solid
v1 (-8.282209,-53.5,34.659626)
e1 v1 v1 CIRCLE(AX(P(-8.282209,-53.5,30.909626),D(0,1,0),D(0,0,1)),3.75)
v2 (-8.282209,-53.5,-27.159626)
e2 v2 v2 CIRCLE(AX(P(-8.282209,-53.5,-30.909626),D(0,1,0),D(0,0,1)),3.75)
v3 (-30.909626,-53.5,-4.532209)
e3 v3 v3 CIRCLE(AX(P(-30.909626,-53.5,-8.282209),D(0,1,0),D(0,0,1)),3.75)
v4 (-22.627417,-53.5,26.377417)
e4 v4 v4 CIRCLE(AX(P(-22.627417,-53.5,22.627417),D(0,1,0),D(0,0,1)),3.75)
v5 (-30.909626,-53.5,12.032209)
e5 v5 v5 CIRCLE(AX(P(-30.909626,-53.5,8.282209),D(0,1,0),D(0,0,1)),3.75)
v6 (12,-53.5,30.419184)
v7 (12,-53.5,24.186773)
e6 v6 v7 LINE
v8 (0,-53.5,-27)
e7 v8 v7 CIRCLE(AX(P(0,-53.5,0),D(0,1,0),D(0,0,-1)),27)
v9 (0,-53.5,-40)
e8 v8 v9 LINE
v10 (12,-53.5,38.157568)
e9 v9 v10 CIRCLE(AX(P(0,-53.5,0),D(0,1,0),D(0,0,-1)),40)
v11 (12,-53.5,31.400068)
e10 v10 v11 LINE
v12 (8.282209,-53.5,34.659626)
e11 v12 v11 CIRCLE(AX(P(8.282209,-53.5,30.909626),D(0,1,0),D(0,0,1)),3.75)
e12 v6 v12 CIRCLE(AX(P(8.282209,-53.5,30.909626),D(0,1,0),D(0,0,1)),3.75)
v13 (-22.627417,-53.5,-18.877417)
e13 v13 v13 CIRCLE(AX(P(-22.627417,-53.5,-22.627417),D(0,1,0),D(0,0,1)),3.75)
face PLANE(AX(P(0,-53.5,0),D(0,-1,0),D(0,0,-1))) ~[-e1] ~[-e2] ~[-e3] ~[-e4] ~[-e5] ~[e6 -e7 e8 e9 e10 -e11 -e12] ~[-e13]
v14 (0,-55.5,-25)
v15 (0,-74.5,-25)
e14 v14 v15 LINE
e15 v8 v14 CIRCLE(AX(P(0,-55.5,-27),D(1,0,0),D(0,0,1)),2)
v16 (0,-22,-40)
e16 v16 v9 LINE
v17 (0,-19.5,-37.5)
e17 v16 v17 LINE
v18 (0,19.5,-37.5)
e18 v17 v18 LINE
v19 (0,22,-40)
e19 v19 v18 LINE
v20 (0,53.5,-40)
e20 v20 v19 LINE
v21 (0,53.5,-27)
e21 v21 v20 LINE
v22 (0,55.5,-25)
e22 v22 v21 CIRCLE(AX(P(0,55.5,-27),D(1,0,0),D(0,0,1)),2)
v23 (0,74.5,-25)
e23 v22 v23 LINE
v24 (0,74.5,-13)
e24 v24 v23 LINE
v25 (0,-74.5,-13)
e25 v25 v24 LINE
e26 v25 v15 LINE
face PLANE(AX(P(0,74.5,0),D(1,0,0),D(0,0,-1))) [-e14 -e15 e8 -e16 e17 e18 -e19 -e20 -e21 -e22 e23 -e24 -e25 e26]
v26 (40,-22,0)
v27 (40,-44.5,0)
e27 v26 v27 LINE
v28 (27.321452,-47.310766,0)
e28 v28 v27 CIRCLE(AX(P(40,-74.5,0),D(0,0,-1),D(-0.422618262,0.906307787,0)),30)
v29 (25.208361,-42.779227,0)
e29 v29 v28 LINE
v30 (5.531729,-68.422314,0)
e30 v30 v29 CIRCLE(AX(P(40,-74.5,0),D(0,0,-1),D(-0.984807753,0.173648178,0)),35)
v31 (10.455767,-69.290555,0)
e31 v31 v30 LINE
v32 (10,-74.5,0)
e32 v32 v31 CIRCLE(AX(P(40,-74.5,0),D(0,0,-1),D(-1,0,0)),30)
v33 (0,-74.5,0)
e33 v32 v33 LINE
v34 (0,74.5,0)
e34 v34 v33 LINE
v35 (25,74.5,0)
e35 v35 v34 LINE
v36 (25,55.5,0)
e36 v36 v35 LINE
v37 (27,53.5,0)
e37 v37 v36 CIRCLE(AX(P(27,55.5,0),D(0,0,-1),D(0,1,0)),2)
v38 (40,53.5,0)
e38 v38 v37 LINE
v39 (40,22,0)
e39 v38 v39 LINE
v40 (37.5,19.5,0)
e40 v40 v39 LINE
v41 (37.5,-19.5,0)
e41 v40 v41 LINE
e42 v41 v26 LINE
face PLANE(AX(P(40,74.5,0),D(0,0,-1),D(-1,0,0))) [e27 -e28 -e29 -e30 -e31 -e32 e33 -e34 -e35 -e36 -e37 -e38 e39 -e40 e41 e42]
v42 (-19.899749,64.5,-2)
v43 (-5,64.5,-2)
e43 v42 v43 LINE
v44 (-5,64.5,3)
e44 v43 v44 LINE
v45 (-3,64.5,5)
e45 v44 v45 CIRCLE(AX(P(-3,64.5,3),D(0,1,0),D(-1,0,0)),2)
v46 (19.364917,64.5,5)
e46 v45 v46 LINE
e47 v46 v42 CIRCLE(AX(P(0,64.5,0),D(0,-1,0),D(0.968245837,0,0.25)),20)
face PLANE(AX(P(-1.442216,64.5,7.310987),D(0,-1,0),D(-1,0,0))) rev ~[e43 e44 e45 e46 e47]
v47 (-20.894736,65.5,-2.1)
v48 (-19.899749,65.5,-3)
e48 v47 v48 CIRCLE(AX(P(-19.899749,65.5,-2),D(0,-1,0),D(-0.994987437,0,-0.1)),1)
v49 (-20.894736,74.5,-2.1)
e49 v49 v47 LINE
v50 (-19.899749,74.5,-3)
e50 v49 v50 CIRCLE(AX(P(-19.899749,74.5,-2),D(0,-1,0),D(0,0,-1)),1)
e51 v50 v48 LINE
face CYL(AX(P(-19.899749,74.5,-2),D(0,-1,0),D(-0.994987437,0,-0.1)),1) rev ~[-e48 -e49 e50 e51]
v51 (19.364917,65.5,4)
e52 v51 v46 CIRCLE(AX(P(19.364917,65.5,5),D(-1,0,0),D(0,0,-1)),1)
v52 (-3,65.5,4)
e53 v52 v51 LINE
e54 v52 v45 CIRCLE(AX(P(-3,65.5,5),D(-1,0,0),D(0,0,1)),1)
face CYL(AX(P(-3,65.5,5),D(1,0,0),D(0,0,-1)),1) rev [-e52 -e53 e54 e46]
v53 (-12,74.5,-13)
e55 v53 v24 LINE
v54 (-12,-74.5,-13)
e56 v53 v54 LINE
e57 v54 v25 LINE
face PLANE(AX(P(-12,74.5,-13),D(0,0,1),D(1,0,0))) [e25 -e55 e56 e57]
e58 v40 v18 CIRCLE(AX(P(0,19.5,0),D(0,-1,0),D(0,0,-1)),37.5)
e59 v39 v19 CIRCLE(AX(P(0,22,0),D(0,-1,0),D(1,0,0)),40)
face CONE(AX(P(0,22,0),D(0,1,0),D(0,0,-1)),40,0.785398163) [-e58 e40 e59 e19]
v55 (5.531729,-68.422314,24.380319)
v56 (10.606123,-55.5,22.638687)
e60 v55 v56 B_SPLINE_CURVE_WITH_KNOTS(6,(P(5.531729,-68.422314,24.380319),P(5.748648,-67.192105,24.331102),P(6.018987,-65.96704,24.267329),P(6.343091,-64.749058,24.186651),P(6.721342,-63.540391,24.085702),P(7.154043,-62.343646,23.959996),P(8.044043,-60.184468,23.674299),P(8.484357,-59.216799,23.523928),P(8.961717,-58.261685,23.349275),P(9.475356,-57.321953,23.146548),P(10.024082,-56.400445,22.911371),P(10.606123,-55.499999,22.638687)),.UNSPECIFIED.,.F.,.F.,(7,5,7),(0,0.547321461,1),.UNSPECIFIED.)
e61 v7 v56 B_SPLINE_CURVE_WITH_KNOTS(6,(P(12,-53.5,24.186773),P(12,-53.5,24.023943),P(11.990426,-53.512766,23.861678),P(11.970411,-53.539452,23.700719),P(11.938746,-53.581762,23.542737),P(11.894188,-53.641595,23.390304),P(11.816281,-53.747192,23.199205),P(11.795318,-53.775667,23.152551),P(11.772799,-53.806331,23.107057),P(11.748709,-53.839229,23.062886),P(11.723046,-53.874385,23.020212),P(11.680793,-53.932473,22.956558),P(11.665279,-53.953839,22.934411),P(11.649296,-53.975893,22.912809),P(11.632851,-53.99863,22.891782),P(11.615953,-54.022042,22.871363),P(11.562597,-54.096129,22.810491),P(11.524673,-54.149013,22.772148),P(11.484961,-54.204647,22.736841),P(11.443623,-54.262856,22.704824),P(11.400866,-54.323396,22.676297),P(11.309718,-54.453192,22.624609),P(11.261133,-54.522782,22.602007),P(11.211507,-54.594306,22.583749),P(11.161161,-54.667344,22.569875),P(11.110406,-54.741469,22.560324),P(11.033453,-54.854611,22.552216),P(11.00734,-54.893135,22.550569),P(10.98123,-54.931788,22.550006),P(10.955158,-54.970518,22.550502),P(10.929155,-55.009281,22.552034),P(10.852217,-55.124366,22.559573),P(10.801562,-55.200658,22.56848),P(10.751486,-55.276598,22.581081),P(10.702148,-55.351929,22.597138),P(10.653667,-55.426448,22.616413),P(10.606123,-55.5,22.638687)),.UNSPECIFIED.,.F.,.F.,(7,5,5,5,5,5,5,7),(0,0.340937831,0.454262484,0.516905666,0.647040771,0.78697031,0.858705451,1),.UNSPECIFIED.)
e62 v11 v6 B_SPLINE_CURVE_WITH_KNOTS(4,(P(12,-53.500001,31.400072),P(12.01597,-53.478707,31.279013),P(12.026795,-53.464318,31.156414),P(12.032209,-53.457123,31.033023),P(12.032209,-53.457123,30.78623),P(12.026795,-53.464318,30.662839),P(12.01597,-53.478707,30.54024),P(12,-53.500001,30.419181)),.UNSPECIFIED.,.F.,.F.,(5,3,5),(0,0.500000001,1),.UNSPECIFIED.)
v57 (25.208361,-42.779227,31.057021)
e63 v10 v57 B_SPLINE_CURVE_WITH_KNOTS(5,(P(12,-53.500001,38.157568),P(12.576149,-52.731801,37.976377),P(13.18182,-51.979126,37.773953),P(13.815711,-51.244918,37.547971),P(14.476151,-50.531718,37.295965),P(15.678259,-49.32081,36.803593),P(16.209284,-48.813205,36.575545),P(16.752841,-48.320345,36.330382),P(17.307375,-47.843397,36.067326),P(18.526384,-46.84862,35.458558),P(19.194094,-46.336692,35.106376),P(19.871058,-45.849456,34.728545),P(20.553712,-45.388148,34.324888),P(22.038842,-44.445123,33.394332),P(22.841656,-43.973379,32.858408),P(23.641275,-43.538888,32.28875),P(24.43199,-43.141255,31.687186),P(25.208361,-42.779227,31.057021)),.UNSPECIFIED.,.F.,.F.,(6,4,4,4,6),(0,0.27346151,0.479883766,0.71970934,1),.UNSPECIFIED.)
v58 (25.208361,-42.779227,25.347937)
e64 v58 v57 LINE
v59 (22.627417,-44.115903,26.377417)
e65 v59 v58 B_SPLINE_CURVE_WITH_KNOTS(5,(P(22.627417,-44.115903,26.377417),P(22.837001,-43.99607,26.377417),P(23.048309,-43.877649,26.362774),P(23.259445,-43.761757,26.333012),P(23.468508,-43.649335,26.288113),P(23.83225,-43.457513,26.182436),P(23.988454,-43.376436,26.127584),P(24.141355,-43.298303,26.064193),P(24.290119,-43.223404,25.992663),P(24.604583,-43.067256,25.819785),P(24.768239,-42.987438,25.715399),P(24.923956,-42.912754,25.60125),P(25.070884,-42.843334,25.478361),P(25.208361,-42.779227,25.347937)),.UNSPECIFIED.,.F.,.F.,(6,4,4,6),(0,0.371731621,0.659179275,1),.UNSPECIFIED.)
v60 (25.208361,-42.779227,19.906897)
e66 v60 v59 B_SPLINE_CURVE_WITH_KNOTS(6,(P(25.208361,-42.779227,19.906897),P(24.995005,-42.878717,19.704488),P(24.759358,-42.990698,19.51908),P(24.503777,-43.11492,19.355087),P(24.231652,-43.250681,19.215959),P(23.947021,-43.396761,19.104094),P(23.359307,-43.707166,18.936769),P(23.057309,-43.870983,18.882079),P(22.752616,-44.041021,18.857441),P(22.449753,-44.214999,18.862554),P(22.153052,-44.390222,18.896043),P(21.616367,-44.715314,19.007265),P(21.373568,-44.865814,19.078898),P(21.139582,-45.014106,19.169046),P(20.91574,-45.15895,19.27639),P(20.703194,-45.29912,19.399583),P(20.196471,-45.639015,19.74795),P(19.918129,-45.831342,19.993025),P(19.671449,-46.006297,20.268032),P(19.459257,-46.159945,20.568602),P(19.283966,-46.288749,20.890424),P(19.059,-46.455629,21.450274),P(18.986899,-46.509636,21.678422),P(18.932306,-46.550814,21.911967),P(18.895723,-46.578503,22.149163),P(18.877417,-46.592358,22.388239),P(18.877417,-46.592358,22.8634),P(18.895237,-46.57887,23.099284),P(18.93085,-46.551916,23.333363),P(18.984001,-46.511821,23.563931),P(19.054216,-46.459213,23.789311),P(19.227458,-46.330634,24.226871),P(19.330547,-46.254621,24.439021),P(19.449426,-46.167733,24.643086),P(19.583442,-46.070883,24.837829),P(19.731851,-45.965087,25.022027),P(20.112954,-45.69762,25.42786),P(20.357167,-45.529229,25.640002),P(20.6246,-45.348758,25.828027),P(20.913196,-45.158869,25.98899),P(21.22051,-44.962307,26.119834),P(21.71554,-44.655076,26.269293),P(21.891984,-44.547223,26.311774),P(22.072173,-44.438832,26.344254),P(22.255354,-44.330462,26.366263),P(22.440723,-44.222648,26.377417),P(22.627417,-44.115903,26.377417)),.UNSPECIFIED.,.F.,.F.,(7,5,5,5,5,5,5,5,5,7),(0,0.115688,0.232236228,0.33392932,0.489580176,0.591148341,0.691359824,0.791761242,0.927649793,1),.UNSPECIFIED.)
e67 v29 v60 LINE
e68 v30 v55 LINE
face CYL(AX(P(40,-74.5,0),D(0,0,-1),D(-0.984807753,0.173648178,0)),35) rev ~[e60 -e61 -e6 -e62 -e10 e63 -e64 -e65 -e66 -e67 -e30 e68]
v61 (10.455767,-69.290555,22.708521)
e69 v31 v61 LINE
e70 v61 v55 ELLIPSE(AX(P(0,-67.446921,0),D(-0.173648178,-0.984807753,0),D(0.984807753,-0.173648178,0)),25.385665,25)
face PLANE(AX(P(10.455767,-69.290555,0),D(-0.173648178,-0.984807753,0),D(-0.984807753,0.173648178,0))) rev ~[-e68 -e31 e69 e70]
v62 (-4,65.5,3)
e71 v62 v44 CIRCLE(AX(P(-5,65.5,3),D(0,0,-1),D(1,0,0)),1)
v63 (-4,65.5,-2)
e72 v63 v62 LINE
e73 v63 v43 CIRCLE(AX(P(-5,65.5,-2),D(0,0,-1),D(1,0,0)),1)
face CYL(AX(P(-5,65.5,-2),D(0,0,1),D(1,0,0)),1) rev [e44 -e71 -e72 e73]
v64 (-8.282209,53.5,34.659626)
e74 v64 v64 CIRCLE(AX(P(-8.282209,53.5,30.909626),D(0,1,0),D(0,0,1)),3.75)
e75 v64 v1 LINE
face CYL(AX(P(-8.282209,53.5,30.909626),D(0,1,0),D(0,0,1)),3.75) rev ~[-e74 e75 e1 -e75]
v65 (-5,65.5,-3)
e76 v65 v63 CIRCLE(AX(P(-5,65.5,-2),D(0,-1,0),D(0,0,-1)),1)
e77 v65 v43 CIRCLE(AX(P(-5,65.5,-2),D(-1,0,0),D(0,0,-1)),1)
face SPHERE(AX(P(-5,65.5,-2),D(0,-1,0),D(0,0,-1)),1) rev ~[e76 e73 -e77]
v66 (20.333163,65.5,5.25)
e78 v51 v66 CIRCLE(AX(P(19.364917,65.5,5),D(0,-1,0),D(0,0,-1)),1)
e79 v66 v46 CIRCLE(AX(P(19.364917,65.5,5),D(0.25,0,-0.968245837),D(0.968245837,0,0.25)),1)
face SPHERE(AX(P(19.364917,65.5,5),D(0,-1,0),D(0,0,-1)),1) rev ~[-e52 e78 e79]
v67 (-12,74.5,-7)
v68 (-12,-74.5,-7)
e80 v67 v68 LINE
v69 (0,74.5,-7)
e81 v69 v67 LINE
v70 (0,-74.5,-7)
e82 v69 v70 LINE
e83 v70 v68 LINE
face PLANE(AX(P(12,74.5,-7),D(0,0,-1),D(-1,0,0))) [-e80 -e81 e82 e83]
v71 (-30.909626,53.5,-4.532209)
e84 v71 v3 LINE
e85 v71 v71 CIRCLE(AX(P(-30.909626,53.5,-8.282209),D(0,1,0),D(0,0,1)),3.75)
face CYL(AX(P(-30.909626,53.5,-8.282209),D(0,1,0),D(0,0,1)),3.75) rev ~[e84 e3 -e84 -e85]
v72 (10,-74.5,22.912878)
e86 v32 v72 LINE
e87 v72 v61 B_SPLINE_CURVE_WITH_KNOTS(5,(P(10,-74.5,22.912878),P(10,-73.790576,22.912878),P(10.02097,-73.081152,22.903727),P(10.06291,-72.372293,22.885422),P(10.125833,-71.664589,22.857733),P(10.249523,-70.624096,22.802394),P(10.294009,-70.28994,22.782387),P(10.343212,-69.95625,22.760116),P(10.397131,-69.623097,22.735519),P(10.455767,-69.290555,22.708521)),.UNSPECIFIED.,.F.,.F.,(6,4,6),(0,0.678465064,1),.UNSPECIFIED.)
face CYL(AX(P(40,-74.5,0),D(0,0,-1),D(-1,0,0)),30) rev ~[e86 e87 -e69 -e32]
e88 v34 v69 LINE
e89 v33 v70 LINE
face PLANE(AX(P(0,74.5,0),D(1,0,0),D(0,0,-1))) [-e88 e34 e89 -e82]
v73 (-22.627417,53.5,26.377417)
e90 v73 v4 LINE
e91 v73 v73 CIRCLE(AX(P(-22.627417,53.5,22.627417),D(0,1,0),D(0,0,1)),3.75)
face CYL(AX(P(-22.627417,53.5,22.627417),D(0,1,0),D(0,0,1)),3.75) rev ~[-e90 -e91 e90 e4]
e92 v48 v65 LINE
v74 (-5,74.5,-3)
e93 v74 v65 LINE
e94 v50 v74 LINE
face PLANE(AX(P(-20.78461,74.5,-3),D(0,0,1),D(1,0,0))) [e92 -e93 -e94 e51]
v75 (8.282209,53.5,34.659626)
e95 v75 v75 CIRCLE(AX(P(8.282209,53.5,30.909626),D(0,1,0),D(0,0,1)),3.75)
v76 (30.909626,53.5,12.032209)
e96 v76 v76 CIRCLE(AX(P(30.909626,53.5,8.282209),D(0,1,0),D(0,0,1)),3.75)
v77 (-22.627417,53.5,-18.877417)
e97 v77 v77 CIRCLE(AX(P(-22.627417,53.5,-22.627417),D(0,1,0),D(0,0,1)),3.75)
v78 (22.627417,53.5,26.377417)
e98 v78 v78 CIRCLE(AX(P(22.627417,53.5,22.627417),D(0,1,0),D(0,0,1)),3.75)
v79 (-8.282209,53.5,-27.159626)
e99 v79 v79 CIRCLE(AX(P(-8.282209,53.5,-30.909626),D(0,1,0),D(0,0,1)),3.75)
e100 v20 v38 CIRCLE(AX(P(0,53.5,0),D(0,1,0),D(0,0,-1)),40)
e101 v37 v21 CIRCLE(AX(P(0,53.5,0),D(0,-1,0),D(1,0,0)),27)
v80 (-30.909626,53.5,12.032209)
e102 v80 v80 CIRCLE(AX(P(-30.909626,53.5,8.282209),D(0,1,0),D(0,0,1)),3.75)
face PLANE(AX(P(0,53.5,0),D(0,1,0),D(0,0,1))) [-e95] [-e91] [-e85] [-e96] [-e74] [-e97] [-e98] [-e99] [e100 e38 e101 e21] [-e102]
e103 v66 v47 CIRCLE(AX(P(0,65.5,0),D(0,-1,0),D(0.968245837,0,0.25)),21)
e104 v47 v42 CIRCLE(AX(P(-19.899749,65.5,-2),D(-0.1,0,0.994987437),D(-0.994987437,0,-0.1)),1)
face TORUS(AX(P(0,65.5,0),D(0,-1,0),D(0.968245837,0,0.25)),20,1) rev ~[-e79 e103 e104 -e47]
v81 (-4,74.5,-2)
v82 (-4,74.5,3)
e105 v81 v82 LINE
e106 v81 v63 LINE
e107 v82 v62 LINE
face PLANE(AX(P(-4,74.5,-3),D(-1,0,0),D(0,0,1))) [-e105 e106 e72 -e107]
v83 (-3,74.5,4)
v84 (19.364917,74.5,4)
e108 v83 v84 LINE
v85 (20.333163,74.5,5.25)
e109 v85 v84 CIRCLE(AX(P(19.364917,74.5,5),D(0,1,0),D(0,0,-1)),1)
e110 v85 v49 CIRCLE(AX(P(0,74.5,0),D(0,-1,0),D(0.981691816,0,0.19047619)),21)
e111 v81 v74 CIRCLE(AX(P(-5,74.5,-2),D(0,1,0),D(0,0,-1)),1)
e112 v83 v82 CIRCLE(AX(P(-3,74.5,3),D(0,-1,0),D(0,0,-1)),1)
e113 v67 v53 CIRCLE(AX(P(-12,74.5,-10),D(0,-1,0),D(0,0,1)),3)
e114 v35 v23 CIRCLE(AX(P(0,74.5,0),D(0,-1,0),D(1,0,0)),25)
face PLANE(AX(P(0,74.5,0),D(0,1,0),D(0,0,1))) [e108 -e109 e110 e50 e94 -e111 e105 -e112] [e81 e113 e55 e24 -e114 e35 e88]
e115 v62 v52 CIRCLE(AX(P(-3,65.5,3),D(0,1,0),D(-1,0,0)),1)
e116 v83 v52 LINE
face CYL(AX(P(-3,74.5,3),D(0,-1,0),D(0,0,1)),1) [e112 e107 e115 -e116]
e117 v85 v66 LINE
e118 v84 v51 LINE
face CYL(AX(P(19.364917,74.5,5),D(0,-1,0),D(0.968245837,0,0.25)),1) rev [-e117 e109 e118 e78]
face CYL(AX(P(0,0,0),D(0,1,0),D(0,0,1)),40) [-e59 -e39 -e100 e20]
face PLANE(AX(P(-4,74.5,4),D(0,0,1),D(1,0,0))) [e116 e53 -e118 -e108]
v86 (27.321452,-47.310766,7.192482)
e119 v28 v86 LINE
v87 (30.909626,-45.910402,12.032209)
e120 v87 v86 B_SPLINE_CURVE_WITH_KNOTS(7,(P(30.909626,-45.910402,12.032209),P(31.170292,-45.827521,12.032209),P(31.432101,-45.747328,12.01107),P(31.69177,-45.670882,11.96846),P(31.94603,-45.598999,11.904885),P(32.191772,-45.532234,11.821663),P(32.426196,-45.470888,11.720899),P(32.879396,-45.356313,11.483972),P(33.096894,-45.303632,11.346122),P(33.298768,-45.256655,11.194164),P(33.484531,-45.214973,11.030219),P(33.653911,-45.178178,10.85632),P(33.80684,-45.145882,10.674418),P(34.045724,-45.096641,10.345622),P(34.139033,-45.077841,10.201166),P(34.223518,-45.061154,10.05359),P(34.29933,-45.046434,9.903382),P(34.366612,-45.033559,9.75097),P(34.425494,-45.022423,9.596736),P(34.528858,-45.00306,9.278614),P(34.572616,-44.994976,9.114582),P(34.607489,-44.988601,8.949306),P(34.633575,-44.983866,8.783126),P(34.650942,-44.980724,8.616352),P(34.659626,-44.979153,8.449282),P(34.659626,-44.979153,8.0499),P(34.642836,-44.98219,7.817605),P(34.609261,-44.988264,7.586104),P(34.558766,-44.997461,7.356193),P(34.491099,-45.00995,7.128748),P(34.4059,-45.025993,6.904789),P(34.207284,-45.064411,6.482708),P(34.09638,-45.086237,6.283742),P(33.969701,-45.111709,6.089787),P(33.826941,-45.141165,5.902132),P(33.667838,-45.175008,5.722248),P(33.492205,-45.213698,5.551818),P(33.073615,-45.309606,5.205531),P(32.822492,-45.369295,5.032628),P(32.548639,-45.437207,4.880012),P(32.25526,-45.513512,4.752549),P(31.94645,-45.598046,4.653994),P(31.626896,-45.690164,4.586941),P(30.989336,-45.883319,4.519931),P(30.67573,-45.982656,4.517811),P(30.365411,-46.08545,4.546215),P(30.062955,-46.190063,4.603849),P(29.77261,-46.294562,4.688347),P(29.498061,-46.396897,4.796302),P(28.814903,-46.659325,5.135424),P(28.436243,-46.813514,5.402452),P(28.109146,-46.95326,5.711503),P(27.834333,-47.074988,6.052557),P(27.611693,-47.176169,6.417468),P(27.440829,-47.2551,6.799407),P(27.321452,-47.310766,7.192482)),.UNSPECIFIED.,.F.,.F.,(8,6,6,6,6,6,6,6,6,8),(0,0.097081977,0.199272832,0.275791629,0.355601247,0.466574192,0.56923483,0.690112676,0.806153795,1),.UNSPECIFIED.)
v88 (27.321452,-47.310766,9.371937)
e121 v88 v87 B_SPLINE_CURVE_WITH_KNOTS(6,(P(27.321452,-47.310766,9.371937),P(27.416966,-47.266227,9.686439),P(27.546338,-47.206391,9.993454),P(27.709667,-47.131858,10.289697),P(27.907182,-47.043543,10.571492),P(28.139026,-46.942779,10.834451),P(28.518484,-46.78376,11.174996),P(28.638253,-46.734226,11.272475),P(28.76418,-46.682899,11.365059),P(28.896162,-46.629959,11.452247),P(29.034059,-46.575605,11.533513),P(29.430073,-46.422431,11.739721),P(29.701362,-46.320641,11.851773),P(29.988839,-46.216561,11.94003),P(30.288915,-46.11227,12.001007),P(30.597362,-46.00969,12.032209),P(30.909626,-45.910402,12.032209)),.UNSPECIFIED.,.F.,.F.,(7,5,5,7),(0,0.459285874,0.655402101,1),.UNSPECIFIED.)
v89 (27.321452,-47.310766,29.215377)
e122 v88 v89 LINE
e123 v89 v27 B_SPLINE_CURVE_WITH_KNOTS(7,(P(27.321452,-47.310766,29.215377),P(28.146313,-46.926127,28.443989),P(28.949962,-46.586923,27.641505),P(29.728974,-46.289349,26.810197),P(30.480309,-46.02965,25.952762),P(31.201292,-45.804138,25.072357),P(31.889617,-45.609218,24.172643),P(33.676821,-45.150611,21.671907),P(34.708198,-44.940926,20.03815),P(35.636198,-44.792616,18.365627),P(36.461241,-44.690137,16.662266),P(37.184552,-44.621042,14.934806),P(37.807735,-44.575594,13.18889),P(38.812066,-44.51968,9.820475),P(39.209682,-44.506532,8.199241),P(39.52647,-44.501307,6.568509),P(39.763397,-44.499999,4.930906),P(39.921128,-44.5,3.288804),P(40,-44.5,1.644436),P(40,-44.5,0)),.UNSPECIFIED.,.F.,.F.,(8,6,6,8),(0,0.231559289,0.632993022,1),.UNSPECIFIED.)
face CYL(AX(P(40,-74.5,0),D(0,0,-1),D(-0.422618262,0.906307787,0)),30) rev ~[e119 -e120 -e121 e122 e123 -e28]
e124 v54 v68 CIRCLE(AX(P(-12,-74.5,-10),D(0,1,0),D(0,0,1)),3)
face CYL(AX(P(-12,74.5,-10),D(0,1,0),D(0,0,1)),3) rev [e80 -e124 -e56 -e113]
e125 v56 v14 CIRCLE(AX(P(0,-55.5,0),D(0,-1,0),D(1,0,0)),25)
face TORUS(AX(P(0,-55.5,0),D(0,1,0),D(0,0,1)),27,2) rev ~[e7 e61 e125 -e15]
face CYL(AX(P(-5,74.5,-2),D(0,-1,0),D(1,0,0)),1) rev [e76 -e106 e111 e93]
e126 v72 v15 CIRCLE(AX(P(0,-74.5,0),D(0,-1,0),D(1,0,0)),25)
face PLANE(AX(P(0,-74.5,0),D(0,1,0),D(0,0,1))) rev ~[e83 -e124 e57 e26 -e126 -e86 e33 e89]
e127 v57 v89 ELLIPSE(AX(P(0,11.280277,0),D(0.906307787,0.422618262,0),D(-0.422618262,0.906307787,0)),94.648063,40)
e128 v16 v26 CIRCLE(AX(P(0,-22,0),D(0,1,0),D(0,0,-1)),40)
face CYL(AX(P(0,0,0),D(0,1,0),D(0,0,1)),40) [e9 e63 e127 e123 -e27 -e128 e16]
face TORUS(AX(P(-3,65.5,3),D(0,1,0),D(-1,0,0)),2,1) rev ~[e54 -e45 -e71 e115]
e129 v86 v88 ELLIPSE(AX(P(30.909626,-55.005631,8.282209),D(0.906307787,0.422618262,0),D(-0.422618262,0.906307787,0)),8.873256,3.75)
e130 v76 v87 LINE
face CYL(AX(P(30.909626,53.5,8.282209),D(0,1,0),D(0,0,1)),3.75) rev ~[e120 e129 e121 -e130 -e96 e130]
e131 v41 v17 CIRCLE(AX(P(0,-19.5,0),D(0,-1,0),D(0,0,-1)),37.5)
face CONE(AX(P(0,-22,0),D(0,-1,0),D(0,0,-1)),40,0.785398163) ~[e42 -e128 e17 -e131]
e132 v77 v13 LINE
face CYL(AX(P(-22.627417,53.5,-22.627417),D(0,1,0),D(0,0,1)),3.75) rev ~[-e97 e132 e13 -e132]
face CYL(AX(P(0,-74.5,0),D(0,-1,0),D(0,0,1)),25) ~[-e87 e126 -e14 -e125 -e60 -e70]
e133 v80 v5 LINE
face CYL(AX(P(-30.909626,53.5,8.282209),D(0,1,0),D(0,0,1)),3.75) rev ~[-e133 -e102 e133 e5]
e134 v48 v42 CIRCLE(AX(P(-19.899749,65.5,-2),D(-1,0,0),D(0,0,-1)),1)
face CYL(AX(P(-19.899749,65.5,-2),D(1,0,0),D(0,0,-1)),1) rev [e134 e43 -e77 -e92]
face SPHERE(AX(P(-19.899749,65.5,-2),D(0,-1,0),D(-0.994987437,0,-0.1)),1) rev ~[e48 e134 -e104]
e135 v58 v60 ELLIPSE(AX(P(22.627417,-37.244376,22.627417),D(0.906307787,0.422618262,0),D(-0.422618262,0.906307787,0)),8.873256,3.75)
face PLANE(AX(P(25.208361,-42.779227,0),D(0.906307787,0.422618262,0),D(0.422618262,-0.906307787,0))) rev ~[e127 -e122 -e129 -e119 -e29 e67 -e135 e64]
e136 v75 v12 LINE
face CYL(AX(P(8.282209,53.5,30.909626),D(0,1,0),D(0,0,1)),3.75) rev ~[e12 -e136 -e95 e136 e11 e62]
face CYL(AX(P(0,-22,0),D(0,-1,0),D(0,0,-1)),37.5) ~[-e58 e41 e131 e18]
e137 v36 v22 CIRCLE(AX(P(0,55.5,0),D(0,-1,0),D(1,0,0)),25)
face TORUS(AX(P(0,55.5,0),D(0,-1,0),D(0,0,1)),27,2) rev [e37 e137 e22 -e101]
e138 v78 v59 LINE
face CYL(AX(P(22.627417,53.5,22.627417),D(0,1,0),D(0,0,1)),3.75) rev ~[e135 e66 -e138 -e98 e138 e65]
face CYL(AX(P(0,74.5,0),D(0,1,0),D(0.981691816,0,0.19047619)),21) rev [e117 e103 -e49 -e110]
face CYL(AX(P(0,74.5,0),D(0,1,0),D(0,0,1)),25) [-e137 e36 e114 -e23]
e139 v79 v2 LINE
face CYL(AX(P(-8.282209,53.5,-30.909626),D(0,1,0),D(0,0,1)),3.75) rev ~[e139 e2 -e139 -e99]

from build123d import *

# Parameters (mm, degrees)
SKETCH1_R               = 40
BOSS_EXTRUDE1_DEPTH     = 74.5
SKETCH3_R               = 40
SKETCH3_R_2             = 25
CUT_EXTRUDE1_DEPTH      = 21
CUT_EXTRUDE2_DEPTH      = 22
CUT_EXTRUDE2_DEPTH_BACK = 22
SKETCH2_R               = 40
SKETCH2_R_2             = 37.5
CUT_EXTRUDE4_DEPTH      = 160.376911753
FILLET1_R               = 2
CUT_EXTRUDE5_DEPTH      = 160.376911753
SKETCH8_R               = 3.75
CUT_EXTRUDE6_DEPTH      = 140.942845476
CUT_EXTRUDE7_DEPTH      = 94.542770966
CUT_EXTRUDE8_DEPTH      = 10
FILLET2_R               = 1
FILLET3_R               = 1


with BuildPart() as part:
    # Sketch1 → Boss-Extrude1 (new, symmetric)
    with BuildSketch(Plane(origin=(0, 0, 0), x_dir=(1, 0, 0), z_dir=(0, 1, 0))):
        with Locations(Location((0, 0, 0), (0, 0, 270))):
            Circle(SKETCH1_R)
    extrude(amount=BOSS_EXTRUDE1_DEPTH, both=True)

    # Sketch3 → Cut-Extrude1 (cut)
    with BuildSketch(Plane(origin=(0, 74.5, 0), x_dir=(1, 0, 0), z_dir=(0, 1, 0))):
        with Locations(Location((0, 0, 0), (0, 0, 270))):
            Circle(SKETCH3_R)
        with Locations(Location((0, 0, 0), (0, 0, 270))):
            Circle(SKETCH3_R_2, mode=Mode.SUBTRACT)
    cut_extrude1 = extrude(amount=-CUT_EXTRUDE1_DEPTH, mode=Mode.SUBTRACT)

    # Mirror1: Cut-Extrude1 across plane
    add(cut_extrude1.mirror(Plane.ZX), mode=Mode.SUBTRACT)

    # Sketch2 → Cut-Extrude2 (cut, two sides: drawn at the far end of the back side and taken through both)
    with BuildSketch(Plane(origin=(0, 0, 0), x_dir=(1, 0, 0), z_dir=(0, 1, 0)).offset(-CUT_EXTRUDE2_DEPTH_BACK)):
        with Locations(Location((0, 0, 0), (0, 0, 270))):
            Circle(SKETCH2_R)
        with Locations(Location((0, 0, 0), (0, 0, 90))):
            Circle(SKETCH2_R_2, mode=Mode.SUBTRACT)
    extrude(amount=CUT_EXTRUDE2_DEPTH + CUT_EXTRUDE2_DEPTH_BACK, mode=Mode.SUBTRACT)

    # Sketch5 → Cut-Extrude4 (cut, through all)
    with BuildSketch(Plane(origin=(0, 74.5, 0), x_dir=(1, 0, 0), z_dir=(0, 1, 0))):
        with BuildLine():
            Line((-12, 13), (12, 13))
            ThreePointArc((12, 13), (15, 10), (12, 7))
            Line((12, 7), (-12, 7))
            ThreePointArc((-12, 7), (-15, 10), (-12, 13))
        make_face()
    extrude(amount=-CUT_EXTRUDE4_DEPTH, mode=Mode.SUBTRACT)

    # Fillet1
    fillet1_edges = [part.edges().sort_by_distance(p)[0] for p in [
        (0, -53.5, -25),
        (0, 53.5, -25),
    ]]
    fillet(fillet1_edges, radius=FILLET1_R)

    # Sketch7 → Revolve2 (revolve)
    with BuildSketch(Plane(origin=(0, 0, 0), x_dir=(0, 0, -1), z_dir=(1, 0, 0))):
        Polygon((40, 22), (37.5, 19.5), (37.5, 22), align=None)
    revolve2 = revolve(axis=Axis((0, 103.881416882, 0), (0, -1, 0)))

    # Mirror2: Revolve2 across plane
    add(revolve2.mirror(Plane.ZX))

    # Sketch4 → Cut-Extrude5 (cut, through all)
    with BuildSketch(Plane(origin=(0, 74.5, 0), x_dir=(1, 0, 0), z_dir=(0, 1, 0))):
        with BuildLine():
            Line((0, 0), (0, 40))
            ThreePointArc((0, 40), (28.284271247, 28.284271247), (40, 0))
            Line((40, 0), (0, 0))
        make_face()
    extrude(amount=-CUT_EXTRUDE5_DEPTH, mode=Mode.SUBTRACT)

    # Sketch8 → Cut-Extrude6 (cut, through all)
    with BuildSketch(Plane(origin=(0, 53.5, 0), x_dir=(1, 0, 0), z_dir=(0, 1, 0))):
        with Locations(Location((-8.282209443, 30.909626441, 0), (0, 0, 270))):
            Circle(SKETCH8_R)
        with Locations(Location((30.909626441, -8.282209443, 0), (0, 0, 270))):
            Circle(SKETCH8_R)
        with Locations(Location((22.627416998, -22.627416998, 0), (0, 0, 270))):
            Circle(SKETCH8_R)
        with Locations(Location((8.282209443, -30.909626441, 0), (0, 0, 270))):
            Circle(SKETCH8_R)
        with Locations(Location((-8.282209443, -30.909626441, 0), (0, 0, 270))):
            Circle(SKETCH8_R)
        with Locations(Location((-22.627416998, -22.627416998, 0), (0, 0, 270))):
            Circle(SKETCH8_R)
        with Locations(Location((-30.909626441, -8.282209443, 0), (0, 0, 270))):
            Circle(SKETCH8_R)
        with Locations(Location((-30.909626441, 8.282209443, 0), (0, 0, 270))):
            Circle(SKETCH8_R)
        with Locations(Location((-22.627416998, 22.627416998, 0), (0, 0, 270))):
            Circle(SKETCH8_R)
    extrude(amount=-CUT_EXTRUDE6_DEPTH, mode=Mode.SUBTRACT)

    # Sketch10 → Cut-Extrude7 (cut, through all)
    with BuildSketch(Plane(origin=(0, 0, 0), x_dir=(-1, 0, 0), z_dir=(0, 0, -1))):
        with BuildLine():
            Line((-25.208360839, -42.779227454), (-27.321452148, -47.310766389))
            ThreePointArc((-27.321452148, -47.310766389), (-33.506811582, -45.211119786), (-40, -44.5))
            Line((-40, -44.5), (-40, -53.5))
            Line((-40, -53.5), (-27, -53.5))
            ThreePointArc((-27, -53.5), (-25.585786438, -54.085786438), (-25, -55.5))
            Line((-25, -55.5), (-25, -74.5))
            Line((-25, -74.5), (-10, -74.5))
            ThreePointArc((-10, -74.5), (-10.114159057, -71.885327718), (-10.45576741, -69.29055467))
            Line((-10.45576741, -69.29055467), (-5.531728645, -68.422313782))
            ThreePointArc((-5.531728645, -68.422313782), (-12.23263309, -53.193349985), (-25.208360839, -42.779227454))
        make_face()
    extrude(amount=-CUT_EXTRUDE7_DEPTH, mode=Mode.SUBTRACT)

    # Sketch11 → Cut-Extrude8 (cut)
    with BuildSketch(Plane(origin=(0, 74.5, 0), x_dir=(1, 0, 0), z_dir=(0, 1, 0))):
        with BuildLine():
            Line((-20.784609691, 3), (-4, 3))
            Line((-4, 3), (-4, -4))
            Line((-4, -4), (20.615528128, -4))
            ThreePointArc((20.615528128, -4), (-3.501020872, -20.706106656), (-20.784609691, 3))
        make_face()
    extrude(amount=-CUT_EXTRUDE8_DEPTH, mode=Mode.SUBTRACT)

    # Fillet2
    fillet2_edges = [part.edges().sort_by_distance(p)[0] for p in [
        (20.615528128, 69.5, 4),
        (-20.784609691, 69.5, -3),
        (-4, 69.5, -3),
        (-4, 69.5, 4),
    ]]
    fillet(fillet2_edges, radius=FILLET2_R)

    # Fillet3
    fillet3_edges = [part.edges().sort_by_distance(p)[0] for p in [
        (-3.685711089, 64.5, 20.674030419),
        (-12.449874371, 64.5, -3),
        (8.182458366, 64.5, 4),
        (-4, 64.5, 0.5),
        (20.155486146, 64.5, 4.387627564),
        (-4.292893219, 64.5, -2.707106781),
        (-20.570569135, 64.5, -2.741619849),
        (-3.707106781, 64.5, 3.707106781),
    ]]
    fillet(fillet3_edges, radius=FILLET3_R)


solid = part.part
